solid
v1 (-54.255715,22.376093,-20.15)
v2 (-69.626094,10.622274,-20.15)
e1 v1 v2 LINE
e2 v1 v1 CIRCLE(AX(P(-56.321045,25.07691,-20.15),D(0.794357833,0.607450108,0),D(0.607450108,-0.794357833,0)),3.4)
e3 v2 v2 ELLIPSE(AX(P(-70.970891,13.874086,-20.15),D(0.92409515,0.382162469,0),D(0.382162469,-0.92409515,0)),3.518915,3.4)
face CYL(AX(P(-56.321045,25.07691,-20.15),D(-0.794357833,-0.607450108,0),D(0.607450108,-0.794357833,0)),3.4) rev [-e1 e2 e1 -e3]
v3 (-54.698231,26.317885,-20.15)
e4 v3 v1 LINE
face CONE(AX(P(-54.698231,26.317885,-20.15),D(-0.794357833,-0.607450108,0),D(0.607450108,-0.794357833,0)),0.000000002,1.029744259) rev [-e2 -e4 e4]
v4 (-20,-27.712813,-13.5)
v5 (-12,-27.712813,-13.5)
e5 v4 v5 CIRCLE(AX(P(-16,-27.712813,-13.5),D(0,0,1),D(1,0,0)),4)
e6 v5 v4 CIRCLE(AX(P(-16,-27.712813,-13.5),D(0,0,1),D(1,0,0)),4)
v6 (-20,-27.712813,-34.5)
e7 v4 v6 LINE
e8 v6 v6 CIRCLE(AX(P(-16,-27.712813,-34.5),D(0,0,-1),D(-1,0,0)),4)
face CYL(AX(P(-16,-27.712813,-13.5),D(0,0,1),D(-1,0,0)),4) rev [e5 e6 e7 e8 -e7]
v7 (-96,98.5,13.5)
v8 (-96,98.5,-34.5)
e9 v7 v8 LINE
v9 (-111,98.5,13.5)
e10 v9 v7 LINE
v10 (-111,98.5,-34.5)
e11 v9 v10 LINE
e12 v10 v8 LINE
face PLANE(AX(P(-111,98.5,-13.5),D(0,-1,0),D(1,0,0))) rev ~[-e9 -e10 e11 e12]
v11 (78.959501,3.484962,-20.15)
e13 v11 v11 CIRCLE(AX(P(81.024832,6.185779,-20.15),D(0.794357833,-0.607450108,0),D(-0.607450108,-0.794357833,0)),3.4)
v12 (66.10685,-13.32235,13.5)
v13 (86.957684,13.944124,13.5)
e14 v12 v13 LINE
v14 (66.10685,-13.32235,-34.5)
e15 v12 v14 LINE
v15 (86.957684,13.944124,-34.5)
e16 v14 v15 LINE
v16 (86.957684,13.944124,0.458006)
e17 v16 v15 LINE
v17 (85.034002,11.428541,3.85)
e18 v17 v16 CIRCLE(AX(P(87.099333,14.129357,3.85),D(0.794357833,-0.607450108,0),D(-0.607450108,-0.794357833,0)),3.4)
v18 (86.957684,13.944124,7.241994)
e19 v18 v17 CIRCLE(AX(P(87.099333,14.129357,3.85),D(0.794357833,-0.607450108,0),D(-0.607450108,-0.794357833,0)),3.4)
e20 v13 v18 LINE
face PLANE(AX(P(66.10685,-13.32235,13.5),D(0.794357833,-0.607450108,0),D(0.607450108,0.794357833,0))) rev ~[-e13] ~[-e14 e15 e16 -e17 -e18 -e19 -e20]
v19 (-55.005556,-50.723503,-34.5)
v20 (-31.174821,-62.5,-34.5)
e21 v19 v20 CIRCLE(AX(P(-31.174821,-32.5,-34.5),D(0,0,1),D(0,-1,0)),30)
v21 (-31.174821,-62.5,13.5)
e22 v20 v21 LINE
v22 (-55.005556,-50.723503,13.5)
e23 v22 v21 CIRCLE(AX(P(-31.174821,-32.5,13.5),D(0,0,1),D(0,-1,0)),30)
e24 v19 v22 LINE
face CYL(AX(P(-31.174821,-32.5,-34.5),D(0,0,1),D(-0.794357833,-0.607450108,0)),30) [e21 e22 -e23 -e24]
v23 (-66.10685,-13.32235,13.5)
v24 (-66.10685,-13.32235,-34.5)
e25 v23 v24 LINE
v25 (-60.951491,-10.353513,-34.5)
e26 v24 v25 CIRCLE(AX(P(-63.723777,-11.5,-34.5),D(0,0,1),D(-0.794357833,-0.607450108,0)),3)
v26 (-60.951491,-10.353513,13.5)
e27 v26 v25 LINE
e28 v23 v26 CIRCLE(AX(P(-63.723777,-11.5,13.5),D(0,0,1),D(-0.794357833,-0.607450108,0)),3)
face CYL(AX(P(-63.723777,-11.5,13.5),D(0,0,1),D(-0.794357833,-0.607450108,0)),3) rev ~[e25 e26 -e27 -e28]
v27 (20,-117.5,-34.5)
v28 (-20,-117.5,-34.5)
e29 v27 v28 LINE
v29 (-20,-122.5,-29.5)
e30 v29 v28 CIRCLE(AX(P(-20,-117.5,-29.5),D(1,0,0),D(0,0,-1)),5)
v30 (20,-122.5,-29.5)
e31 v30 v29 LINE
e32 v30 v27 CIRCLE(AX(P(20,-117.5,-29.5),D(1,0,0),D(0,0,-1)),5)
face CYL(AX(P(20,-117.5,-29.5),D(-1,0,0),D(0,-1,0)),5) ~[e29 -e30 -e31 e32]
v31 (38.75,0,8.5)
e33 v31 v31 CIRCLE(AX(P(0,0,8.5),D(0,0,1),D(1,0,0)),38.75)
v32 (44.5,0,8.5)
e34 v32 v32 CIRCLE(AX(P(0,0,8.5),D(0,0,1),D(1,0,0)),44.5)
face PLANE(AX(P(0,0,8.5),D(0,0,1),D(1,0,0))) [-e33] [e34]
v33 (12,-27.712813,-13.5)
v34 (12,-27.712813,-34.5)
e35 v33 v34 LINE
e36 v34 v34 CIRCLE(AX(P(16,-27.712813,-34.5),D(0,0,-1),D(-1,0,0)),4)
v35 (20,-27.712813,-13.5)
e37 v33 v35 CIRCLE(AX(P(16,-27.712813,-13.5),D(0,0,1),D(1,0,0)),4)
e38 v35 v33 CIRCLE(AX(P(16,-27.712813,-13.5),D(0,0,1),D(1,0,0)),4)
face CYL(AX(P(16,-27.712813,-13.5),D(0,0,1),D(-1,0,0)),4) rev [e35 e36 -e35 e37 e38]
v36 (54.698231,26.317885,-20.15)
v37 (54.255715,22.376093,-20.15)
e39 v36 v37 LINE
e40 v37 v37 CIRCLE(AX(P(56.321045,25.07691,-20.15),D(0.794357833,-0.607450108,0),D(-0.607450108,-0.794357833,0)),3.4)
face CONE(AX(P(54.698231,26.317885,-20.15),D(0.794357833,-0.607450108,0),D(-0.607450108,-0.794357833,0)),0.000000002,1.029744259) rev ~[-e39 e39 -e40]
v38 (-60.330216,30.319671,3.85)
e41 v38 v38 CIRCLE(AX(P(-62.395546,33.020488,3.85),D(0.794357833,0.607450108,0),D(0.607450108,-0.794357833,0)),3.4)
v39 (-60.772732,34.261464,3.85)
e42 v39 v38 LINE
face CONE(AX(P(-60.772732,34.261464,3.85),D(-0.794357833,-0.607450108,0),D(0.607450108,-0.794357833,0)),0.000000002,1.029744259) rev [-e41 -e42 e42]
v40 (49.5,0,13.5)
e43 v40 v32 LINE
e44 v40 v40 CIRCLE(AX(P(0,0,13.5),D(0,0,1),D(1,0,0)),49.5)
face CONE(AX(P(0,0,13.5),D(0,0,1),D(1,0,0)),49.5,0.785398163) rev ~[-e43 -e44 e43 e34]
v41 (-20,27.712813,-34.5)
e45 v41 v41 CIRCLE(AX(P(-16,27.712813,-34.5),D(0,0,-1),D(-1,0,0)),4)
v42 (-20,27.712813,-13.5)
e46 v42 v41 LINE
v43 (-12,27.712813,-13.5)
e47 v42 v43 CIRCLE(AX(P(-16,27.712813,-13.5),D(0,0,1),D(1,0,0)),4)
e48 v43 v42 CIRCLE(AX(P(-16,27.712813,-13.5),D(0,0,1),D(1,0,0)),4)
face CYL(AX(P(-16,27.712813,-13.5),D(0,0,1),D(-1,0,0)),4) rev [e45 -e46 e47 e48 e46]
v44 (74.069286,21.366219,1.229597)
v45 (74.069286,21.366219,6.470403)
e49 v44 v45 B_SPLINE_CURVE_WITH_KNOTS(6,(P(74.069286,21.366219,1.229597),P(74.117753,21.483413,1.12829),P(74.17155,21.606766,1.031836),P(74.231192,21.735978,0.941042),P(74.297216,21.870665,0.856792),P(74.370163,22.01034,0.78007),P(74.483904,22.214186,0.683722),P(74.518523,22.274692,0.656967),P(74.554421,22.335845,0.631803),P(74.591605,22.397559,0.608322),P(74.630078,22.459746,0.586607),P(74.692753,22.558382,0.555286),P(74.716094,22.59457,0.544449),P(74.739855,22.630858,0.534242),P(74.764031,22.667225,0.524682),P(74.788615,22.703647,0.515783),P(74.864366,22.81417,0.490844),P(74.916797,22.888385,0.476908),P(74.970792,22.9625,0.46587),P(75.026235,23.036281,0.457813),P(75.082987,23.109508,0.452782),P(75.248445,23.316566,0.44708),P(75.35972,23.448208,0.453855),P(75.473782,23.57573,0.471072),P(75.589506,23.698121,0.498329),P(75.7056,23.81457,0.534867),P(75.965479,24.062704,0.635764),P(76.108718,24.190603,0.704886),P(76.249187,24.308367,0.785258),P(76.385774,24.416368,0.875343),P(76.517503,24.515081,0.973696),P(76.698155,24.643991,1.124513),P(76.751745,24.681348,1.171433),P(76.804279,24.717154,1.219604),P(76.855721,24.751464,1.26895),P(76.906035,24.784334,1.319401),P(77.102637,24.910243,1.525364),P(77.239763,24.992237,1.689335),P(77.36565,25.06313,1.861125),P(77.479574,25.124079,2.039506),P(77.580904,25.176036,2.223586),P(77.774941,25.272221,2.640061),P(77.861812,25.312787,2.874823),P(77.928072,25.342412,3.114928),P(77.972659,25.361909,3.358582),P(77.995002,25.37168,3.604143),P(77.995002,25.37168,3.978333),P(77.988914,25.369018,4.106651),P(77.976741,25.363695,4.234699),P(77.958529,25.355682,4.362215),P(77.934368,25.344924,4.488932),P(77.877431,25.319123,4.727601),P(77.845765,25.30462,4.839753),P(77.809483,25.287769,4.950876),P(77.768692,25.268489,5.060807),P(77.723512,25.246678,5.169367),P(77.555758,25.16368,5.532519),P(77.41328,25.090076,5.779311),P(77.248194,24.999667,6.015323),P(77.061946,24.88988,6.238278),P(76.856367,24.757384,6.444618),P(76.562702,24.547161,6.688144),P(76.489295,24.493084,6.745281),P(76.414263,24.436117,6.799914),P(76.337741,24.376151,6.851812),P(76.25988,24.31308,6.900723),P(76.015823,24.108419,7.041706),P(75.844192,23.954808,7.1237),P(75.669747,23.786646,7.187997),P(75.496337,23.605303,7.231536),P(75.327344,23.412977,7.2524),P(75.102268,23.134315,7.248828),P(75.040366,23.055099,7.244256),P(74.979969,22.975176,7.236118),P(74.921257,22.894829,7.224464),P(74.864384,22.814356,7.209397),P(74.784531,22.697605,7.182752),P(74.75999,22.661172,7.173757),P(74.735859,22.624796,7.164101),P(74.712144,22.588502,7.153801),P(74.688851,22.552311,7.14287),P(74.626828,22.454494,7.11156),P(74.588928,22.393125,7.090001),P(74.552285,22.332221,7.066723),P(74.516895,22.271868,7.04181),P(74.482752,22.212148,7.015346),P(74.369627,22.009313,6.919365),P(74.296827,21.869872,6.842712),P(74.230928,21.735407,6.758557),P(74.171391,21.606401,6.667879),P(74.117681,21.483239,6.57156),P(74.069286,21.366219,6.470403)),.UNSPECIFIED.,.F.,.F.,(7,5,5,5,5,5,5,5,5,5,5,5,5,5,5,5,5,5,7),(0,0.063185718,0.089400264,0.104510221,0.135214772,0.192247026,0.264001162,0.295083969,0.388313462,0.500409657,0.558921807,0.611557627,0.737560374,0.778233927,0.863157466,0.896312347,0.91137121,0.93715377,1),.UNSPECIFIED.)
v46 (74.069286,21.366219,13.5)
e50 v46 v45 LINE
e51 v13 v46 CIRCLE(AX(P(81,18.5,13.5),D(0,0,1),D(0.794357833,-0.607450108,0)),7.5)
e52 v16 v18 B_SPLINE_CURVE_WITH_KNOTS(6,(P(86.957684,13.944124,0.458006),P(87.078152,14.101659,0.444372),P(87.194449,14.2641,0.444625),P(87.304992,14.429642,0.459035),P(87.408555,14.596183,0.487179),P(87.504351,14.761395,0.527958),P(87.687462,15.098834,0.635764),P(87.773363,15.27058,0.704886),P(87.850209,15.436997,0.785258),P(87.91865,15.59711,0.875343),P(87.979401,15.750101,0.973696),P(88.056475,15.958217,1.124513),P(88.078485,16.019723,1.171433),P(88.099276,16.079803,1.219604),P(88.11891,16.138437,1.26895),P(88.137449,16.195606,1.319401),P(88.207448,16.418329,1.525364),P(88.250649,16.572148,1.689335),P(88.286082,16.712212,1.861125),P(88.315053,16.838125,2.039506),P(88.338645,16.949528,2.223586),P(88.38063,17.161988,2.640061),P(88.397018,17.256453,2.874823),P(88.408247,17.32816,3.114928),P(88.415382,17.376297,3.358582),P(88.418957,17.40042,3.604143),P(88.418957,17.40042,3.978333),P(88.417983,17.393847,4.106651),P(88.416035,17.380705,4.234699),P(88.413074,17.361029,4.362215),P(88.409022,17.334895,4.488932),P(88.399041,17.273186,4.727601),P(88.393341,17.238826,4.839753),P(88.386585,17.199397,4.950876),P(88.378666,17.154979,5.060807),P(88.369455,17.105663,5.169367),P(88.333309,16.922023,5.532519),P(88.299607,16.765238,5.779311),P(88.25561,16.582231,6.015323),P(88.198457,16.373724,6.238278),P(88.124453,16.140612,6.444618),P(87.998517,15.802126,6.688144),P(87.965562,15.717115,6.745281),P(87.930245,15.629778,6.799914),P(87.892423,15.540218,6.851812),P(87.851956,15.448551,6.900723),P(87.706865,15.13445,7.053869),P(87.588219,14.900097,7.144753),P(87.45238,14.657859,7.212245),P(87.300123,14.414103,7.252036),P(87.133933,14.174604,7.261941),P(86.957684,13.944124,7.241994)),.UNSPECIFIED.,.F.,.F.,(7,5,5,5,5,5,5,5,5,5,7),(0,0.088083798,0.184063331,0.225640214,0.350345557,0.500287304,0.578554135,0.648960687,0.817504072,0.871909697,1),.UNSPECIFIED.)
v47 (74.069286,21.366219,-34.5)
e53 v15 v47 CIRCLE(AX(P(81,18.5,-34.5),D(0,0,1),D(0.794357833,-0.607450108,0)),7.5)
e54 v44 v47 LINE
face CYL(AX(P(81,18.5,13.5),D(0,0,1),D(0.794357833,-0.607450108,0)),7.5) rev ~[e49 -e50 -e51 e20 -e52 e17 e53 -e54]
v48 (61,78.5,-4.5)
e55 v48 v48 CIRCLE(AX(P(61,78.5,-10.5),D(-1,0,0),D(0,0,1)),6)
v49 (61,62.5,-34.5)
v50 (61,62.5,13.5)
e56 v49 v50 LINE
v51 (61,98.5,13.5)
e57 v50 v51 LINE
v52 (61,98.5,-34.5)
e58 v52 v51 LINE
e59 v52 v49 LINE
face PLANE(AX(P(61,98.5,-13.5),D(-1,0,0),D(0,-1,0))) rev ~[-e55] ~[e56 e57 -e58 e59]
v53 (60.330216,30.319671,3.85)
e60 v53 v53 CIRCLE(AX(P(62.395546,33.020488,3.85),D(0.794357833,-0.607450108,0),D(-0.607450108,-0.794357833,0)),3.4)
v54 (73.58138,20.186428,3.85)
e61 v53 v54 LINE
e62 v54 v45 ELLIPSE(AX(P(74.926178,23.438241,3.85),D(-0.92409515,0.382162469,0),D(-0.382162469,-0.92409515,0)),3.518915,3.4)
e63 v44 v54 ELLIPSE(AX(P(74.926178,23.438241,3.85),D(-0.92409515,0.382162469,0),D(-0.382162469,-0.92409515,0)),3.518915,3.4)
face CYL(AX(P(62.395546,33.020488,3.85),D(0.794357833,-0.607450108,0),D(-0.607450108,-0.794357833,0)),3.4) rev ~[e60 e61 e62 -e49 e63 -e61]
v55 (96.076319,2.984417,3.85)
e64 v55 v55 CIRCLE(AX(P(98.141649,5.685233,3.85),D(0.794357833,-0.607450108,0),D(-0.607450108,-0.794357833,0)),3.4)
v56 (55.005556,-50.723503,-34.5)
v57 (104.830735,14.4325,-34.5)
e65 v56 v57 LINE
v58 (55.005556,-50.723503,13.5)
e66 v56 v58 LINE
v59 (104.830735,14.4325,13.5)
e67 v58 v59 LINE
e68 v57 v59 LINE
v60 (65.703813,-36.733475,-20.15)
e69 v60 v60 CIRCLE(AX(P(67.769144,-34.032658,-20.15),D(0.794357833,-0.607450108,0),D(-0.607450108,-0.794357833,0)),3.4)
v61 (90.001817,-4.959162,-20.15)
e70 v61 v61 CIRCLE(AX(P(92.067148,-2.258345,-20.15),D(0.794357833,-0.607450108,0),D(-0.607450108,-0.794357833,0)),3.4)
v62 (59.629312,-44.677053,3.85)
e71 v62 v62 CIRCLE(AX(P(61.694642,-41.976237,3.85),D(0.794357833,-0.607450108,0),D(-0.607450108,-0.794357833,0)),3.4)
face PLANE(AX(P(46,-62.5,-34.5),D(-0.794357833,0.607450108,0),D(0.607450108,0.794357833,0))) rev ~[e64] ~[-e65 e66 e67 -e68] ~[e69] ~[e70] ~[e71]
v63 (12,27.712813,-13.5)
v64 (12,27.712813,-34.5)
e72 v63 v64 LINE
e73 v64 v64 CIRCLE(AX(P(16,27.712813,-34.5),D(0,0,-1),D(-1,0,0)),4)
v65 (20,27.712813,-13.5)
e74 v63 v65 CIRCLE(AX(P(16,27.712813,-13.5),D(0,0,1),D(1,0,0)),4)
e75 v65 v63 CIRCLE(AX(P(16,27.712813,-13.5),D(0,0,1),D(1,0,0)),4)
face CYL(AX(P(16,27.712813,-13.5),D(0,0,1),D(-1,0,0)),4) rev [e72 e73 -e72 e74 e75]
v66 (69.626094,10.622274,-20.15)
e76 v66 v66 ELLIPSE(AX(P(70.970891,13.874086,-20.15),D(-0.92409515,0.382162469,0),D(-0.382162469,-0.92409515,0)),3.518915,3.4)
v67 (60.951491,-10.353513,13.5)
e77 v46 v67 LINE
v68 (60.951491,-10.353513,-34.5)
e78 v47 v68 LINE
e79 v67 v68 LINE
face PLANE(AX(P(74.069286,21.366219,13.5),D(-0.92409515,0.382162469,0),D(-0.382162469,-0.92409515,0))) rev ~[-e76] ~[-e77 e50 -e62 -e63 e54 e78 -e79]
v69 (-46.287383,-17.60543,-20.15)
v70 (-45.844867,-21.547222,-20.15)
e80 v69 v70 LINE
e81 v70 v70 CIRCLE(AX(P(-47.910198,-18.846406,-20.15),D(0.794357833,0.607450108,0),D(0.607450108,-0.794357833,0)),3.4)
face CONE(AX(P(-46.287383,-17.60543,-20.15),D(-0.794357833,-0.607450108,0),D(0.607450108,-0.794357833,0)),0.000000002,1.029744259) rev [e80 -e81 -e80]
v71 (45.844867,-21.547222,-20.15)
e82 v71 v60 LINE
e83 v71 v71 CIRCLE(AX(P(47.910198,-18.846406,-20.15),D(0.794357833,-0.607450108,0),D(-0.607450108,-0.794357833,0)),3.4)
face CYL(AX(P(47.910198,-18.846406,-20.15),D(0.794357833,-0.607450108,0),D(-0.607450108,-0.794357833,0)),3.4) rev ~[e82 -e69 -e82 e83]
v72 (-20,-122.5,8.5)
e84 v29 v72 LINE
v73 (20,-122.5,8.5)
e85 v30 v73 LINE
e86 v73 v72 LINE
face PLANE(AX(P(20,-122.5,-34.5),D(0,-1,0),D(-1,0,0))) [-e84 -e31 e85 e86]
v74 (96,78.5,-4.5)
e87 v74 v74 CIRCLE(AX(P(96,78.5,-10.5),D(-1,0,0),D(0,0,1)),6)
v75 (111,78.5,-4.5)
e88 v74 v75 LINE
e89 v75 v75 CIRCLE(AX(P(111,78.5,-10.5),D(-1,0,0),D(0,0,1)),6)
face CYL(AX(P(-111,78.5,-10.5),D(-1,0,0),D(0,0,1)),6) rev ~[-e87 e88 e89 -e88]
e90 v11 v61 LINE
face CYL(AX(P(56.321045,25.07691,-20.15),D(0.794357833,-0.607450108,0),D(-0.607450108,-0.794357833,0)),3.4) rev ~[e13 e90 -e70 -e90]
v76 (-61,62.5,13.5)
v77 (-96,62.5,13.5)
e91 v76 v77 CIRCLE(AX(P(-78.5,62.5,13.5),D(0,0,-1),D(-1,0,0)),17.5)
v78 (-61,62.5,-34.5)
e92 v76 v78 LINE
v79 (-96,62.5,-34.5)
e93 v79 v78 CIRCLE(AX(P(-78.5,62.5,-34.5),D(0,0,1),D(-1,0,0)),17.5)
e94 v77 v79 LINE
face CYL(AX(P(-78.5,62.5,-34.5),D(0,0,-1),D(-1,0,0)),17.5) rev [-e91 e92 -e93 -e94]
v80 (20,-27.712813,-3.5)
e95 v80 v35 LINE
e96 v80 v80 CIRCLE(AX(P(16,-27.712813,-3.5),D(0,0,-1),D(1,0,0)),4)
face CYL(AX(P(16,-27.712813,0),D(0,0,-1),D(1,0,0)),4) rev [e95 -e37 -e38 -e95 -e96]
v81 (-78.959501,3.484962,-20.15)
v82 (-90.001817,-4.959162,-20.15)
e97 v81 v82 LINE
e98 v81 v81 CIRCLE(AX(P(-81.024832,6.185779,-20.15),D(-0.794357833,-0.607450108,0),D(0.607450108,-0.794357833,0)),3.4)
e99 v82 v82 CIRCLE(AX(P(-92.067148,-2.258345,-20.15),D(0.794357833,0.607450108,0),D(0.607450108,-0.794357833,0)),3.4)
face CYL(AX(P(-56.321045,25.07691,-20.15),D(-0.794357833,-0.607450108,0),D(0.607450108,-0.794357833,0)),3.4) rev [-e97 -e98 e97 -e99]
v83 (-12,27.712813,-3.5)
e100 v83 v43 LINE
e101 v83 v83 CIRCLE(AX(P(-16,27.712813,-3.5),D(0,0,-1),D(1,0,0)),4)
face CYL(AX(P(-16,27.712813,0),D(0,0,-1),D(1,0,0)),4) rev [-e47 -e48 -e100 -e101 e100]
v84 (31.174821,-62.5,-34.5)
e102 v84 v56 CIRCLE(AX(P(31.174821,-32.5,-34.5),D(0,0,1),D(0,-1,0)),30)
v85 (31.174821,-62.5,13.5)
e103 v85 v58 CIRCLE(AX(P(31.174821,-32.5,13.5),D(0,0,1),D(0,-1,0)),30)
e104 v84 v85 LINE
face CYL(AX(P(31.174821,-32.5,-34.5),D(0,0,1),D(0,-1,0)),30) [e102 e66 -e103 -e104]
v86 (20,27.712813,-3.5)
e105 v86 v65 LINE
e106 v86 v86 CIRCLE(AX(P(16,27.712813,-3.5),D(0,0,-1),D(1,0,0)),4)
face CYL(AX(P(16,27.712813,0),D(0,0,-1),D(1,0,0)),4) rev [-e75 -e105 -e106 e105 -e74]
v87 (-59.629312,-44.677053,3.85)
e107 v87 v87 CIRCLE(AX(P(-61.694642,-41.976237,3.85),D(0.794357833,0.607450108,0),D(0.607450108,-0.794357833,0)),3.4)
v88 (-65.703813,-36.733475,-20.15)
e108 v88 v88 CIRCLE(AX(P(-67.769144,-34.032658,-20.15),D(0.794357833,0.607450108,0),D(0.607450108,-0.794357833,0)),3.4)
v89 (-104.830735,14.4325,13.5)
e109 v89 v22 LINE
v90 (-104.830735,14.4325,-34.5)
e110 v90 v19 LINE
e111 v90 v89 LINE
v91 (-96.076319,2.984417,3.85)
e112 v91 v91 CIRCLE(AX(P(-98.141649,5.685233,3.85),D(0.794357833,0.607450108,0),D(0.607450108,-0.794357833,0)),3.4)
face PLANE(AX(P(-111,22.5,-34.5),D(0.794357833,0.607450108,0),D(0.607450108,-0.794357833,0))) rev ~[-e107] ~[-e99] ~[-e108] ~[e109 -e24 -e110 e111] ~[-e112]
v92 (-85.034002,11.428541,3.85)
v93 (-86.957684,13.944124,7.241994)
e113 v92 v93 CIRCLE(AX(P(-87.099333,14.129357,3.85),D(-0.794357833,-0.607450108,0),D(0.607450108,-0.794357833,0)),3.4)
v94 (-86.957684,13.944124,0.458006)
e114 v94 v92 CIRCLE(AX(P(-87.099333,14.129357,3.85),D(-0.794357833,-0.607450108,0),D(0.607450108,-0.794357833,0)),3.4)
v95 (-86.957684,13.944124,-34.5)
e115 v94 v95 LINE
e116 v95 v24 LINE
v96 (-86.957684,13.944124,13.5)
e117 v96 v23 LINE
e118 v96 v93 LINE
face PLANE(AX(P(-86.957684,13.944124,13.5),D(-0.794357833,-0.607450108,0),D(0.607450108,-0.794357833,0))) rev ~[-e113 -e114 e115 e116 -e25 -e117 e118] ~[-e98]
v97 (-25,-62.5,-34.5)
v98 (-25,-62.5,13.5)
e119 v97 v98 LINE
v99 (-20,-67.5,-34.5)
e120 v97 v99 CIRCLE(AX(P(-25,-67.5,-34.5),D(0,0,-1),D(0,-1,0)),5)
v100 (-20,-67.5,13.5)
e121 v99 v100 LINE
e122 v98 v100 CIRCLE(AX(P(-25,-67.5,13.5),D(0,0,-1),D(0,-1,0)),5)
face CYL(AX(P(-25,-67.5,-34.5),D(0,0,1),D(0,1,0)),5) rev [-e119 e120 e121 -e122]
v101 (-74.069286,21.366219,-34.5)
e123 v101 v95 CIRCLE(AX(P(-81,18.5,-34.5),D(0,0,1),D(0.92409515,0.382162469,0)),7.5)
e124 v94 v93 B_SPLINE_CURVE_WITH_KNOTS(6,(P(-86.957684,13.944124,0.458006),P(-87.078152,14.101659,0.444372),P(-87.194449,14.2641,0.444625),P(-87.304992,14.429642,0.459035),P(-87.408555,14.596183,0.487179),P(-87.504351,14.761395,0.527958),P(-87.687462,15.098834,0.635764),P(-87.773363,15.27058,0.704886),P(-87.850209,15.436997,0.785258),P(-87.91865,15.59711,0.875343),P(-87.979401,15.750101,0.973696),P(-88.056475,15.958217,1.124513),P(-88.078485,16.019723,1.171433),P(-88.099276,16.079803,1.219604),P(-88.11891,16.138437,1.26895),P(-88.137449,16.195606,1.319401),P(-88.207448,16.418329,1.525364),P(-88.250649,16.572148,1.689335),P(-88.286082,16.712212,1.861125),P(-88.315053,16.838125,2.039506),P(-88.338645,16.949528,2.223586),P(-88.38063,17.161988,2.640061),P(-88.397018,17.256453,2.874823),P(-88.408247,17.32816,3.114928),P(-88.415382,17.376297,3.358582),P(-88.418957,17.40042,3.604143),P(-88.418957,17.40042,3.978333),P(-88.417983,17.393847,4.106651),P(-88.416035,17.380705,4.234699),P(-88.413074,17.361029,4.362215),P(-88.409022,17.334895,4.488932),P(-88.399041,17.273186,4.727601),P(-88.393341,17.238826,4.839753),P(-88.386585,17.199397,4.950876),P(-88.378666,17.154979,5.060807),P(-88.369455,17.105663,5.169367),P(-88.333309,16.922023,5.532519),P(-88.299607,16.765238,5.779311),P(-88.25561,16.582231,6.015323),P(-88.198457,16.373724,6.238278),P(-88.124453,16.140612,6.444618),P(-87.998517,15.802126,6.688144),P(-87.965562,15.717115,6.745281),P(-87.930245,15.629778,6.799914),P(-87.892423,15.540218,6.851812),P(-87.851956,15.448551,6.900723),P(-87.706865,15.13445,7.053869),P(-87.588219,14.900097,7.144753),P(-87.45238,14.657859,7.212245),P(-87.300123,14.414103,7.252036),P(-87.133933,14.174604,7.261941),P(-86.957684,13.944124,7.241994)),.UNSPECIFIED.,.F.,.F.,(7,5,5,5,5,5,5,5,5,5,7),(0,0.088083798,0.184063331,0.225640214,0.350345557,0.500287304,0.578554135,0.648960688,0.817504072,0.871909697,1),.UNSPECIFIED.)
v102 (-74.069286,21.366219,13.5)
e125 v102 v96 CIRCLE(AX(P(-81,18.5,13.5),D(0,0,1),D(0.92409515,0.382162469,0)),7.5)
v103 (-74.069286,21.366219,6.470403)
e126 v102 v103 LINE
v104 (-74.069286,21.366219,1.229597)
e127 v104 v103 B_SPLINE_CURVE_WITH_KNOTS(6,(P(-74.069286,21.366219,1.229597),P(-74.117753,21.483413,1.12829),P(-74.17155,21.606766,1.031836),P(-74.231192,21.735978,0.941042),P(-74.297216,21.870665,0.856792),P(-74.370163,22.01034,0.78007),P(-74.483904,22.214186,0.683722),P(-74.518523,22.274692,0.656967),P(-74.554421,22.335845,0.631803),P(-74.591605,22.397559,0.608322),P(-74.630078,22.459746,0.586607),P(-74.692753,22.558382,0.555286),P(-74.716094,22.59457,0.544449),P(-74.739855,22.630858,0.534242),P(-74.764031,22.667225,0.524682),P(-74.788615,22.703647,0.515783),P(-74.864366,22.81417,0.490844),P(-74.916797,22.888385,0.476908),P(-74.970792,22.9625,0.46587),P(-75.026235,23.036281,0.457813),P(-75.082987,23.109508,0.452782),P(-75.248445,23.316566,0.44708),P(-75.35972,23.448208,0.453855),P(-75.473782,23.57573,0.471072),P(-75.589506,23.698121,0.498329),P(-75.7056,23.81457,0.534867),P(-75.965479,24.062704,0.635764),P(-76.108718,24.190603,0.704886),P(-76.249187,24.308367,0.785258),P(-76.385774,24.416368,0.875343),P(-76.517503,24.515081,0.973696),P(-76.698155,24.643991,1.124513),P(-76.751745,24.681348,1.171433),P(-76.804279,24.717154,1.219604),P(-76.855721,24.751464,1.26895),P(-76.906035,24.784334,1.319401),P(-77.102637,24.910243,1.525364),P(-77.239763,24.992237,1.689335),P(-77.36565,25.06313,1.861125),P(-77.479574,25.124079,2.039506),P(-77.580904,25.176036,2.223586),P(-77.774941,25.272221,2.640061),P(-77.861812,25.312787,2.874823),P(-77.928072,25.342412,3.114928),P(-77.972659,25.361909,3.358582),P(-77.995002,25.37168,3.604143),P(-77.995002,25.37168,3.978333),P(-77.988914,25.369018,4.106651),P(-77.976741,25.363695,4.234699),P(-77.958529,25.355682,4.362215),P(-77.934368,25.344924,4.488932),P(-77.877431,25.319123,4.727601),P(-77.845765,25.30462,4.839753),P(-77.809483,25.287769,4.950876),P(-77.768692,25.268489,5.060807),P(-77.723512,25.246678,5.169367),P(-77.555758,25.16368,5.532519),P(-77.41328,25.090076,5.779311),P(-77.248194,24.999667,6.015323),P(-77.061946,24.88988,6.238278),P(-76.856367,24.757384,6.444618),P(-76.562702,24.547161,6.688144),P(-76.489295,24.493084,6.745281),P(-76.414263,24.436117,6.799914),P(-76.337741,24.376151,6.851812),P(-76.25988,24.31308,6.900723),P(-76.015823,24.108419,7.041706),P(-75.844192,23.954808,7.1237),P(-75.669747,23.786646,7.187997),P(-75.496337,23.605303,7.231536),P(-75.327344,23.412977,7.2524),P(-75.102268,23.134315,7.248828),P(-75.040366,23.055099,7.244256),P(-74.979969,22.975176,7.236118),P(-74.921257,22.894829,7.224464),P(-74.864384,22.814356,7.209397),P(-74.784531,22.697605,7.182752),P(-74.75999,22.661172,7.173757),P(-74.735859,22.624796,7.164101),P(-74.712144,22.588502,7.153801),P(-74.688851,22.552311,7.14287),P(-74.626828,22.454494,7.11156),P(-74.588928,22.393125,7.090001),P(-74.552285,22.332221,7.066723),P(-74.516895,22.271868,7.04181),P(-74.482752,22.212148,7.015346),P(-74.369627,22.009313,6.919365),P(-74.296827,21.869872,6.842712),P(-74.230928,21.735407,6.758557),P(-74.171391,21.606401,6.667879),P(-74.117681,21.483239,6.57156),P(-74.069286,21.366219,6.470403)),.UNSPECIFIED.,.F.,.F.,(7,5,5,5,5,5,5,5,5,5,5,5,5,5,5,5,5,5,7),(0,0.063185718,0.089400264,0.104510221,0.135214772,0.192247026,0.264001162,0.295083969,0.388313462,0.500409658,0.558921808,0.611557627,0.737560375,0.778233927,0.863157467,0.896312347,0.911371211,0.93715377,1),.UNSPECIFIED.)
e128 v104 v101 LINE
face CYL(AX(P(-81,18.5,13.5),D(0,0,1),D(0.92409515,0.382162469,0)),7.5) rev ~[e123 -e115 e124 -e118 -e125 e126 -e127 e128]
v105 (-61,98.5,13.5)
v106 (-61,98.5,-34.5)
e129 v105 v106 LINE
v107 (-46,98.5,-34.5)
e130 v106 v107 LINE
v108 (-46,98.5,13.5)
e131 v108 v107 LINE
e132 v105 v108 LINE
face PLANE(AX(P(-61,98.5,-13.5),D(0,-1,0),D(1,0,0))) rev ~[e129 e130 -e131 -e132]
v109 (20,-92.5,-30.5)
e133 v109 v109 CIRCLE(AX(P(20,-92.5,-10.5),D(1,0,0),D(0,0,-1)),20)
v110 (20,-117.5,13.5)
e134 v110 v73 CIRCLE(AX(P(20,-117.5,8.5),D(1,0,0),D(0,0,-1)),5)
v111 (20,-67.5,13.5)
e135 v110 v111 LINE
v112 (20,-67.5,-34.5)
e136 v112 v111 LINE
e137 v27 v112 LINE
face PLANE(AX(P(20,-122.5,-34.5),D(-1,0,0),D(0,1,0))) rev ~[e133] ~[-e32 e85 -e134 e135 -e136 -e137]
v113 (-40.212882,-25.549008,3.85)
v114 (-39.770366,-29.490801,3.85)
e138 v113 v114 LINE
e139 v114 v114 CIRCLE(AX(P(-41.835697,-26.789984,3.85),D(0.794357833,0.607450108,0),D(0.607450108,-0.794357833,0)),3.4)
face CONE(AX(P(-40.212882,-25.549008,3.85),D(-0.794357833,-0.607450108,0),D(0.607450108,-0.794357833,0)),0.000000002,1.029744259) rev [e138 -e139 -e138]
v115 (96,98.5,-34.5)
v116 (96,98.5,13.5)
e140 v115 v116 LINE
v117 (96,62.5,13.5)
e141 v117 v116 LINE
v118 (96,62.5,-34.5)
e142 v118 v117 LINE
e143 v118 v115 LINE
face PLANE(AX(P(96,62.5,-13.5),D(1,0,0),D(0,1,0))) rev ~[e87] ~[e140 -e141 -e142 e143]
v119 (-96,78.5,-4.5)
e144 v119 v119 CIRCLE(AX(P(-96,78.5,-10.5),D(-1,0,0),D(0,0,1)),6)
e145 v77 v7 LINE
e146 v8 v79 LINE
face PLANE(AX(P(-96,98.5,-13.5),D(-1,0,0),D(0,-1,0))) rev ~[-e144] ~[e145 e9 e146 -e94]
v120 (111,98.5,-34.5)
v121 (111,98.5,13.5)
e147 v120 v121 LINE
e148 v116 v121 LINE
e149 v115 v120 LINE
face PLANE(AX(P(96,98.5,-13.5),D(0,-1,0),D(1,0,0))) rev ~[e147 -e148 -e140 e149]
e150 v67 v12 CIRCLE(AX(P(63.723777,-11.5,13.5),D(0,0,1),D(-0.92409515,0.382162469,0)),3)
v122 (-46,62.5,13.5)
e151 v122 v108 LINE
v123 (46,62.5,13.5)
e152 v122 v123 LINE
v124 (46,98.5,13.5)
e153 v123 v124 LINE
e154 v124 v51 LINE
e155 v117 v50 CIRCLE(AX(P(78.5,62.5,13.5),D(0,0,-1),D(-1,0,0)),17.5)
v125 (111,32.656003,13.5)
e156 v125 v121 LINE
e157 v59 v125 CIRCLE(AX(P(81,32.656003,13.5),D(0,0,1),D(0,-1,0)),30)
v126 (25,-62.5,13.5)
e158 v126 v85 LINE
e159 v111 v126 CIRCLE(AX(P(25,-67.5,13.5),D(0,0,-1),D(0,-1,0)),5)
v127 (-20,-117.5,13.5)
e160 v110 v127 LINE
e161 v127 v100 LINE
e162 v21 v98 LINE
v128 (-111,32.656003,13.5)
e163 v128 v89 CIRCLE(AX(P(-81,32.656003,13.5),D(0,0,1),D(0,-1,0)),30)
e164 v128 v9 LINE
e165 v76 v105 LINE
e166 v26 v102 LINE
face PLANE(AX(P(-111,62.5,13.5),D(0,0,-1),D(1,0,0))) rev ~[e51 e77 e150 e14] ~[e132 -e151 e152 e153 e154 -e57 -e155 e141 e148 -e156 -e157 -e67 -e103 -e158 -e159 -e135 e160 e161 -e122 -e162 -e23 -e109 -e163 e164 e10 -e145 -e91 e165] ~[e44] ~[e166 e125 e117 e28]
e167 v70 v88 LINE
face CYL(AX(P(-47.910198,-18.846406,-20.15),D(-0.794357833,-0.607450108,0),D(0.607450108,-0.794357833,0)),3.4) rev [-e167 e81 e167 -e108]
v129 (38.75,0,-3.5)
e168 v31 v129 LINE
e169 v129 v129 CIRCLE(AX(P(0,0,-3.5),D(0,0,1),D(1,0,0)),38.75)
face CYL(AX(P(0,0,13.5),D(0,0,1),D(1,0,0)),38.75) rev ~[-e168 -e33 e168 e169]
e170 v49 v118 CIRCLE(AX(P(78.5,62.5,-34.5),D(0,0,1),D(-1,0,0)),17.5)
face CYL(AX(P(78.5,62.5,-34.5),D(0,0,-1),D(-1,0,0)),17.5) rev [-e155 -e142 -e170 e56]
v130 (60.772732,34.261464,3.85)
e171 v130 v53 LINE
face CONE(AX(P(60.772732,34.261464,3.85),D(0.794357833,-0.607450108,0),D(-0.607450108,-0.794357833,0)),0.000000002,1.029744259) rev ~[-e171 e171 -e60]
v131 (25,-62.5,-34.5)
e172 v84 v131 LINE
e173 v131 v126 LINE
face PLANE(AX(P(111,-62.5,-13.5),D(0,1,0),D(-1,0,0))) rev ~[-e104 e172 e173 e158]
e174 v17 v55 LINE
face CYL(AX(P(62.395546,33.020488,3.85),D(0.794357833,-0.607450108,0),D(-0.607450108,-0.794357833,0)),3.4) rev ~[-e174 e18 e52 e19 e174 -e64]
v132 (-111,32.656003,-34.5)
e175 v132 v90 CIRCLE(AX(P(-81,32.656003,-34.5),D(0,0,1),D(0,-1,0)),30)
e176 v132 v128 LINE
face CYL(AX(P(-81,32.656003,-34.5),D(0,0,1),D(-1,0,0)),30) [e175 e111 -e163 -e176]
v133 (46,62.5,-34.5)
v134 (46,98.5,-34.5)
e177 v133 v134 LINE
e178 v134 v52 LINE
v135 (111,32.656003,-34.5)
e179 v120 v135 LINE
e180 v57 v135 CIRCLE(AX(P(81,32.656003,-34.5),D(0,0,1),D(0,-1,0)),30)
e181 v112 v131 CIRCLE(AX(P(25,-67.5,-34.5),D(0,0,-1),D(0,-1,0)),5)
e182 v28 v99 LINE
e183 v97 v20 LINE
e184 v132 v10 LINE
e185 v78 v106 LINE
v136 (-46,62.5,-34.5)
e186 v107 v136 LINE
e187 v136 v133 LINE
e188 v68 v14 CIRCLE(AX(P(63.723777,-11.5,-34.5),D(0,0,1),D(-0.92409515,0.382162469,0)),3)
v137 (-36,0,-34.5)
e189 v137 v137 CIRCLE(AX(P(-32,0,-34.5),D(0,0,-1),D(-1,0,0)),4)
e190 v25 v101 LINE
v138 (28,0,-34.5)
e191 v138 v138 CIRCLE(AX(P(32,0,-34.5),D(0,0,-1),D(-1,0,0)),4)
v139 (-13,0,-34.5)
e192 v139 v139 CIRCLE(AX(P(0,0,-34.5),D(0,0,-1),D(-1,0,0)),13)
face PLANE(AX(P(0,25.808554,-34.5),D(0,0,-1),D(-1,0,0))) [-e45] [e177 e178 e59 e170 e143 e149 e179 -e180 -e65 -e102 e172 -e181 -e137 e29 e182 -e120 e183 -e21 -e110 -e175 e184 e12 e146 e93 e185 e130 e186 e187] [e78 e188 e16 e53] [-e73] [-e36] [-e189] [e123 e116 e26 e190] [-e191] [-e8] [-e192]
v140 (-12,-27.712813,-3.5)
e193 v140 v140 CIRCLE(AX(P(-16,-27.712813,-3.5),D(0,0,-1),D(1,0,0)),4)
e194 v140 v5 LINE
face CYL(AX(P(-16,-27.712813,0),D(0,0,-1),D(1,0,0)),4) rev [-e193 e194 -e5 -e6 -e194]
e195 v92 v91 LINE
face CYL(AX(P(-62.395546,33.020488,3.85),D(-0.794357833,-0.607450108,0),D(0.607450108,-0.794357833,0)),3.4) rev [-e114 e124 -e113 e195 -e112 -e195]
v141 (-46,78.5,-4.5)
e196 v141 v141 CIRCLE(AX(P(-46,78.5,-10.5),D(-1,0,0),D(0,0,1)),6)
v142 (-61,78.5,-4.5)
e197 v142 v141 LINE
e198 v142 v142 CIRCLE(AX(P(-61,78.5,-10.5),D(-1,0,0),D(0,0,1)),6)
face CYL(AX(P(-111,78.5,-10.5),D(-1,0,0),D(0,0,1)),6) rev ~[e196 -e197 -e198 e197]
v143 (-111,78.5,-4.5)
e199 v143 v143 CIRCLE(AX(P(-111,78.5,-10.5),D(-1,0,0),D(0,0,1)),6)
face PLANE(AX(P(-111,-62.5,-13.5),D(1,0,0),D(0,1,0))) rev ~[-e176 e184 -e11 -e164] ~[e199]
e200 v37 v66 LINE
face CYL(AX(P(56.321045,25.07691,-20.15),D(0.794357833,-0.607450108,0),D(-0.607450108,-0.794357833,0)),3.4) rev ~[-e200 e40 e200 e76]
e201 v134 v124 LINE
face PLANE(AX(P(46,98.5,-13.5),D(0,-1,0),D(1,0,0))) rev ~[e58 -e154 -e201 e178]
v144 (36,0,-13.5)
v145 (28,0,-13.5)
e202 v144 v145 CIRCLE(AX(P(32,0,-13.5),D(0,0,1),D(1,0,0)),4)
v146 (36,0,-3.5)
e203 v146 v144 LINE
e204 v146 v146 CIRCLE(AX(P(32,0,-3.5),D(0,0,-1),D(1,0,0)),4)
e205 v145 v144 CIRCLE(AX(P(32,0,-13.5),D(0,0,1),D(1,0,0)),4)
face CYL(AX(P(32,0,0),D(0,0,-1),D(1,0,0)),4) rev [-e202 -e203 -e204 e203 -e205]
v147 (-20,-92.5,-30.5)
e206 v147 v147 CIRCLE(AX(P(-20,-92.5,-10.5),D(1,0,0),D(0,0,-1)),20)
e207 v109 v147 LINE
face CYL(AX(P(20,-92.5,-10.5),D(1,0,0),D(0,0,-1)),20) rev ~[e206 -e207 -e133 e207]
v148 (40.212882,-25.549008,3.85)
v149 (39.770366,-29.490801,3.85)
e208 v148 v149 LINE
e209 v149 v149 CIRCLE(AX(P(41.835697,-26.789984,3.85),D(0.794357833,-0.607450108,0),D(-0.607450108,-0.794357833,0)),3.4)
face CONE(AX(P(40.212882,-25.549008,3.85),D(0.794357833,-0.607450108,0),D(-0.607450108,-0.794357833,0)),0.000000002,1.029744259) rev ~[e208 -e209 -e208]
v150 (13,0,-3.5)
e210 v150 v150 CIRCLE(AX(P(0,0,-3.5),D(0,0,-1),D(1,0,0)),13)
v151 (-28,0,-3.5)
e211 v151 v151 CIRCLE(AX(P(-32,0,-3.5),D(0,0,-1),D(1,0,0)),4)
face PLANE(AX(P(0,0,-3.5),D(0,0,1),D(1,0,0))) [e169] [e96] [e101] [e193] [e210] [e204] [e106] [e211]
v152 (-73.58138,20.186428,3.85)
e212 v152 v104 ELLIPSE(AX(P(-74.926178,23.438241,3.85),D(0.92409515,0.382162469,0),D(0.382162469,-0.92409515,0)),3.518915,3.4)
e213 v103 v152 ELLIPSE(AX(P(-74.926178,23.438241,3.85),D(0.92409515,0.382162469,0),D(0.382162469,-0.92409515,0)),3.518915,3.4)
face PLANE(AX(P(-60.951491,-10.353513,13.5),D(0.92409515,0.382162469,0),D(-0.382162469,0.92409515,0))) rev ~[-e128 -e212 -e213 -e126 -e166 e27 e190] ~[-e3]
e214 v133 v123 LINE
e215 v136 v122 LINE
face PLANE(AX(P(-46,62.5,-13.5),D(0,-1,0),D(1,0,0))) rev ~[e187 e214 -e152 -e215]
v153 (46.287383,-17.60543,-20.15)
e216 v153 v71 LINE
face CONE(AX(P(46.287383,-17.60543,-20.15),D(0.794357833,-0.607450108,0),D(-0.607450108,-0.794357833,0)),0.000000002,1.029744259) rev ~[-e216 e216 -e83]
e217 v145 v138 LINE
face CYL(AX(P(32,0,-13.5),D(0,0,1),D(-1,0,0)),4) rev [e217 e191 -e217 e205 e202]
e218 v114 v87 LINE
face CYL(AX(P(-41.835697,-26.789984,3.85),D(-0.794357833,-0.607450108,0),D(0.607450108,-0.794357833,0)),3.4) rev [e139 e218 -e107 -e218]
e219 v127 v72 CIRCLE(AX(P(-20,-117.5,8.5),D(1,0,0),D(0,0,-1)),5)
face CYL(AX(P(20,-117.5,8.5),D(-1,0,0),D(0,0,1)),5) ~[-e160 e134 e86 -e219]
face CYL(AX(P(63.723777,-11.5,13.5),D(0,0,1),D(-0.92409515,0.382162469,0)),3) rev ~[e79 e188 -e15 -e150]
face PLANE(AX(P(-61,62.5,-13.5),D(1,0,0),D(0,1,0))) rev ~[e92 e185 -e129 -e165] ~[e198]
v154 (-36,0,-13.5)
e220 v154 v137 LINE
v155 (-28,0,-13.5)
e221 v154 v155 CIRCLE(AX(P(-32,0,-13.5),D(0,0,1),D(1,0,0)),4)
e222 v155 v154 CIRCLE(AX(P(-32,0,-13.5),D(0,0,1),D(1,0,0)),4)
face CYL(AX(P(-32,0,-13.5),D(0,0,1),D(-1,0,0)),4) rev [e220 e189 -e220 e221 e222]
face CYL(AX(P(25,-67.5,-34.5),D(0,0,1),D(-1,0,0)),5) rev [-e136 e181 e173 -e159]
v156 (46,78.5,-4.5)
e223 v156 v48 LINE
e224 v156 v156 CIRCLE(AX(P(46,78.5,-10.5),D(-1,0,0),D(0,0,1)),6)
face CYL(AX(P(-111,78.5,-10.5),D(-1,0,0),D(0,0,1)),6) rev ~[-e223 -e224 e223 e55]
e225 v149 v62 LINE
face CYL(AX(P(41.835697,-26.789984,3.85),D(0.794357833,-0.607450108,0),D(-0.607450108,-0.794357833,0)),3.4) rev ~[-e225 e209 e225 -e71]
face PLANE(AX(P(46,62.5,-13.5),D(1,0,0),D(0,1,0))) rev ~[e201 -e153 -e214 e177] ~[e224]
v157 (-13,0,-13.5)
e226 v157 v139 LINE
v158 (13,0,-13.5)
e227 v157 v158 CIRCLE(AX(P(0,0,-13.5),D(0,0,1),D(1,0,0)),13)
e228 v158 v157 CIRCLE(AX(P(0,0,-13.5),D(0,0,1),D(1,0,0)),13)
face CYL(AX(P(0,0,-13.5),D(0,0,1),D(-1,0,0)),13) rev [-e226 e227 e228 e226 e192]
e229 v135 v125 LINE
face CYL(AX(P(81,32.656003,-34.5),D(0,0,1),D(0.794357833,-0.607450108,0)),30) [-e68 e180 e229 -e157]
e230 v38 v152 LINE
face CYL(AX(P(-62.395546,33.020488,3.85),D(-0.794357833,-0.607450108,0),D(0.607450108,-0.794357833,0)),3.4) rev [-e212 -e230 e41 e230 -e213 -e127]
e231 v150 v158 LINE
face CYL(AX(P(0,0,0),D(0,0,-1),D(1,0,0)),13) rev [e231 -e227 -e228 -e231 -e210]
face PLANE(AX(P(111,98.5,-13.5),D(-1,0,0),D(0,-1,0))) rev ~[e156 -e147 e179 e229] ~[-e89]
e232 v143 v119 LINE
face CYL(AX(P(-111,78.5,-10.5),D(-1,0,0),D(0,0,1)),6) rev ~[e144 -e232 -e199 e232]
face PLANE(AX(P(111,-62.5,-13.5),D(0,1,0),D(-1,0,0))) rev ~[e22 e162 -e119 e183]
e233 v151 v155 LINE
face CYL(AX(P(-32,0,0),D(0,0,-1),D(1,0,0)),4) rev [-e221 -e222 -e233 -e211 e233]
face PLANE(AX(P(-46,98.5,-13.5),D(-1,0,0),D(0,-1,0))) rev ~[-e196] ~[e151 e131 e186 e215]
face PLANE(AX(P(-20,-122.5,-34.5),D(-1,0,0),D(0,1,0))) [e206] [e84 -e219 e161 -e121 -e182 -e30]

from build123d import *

# Parameters (mm, degrees)
SZKIC1_W                         = 222
SZKIC1_H                         = 125
SZKIC1_R                         = 13
SZKIC1_R_2                       = 4
DODANIE_WYCI_GNI_CIE1_DEPTH      = 13.5
DODANIE_WYCI_GNI_CIE1_DEPTH_BACK = 13.5
SZKIC4_W                         = 15
SZKIC4_H                         = 27
DODANIE_WYCI_GNI_CIE4_DEPTH      = 36
SZKIC13_R                        = 38.75
WYTNIJ_WYCI_GNI_CIE4_DEPTH       = 17
SZKIC15_R                        = 44.5
WYTNIJ_WYCI_GNI_CIE5_DEPTH       = 5
POCHYLENIE1_ANGLE                = 45
SZKIC16_R                        = 13
SZKIC16_R_2                      = 4
DODANIE_WYCI_GNI_CIE6_DEPTH      = 21
SZKIC5_R                         = 6
WYTNIJ_WYCI_GNI_CIE3_DEPTH       = 223
WYTNIJ_WYCI_GNI_CIE6_DEPTH       = 49
ZAOKR_GLENIE1_R                  = 30
ZAOKR_GLENIE2_R                  = 30
SZKIC19_W                        = 40
SZKIC19_H                        = 60
DODANIE_WYCI_GNI_CIE7_DEPTH      = 48
WYTNIJ_WYCI_GNI_CIE7_REACH       = 133
SZKIC23_R                        = 20
WYTNIJ_WYCI_GNI_CIE8_REACH       = 50
ZAOKR_GLENIE4_R                  = 5
ZAOKR_GLENIE5_R                  = 5
WYTNIJ_WYCI_GNI_CIE9_DEPTH       = 48
OTW_R_GWINTOWANY_M81_AT_2_COUNT  = 2
OTW_R_GWINTOWANY_M81_AT_2_PITCH  = 26
OTW_R_GWINTOWANY_M82_AT_2_COUNT  = 2
OTW_R_GWINTOWANY_M82_AT_2_PITCH  = 26


with BuildPart() as part:
    # Szkic1 → Dodanie-wyci_gni_cie1 (new body, two sides)
    with BuildSketch(Plane.XY) as dodanie_wyci_gni_cie1_sk:
        Rectangle(SZKIC1_W, SZKIC1_H)
        Circle(SZKIC1_R, mode=Mode.SUBTRACT)
        with Locations((-32, 0)):
            Circle(SZKIC1_R_2, mode=Mode.SUBTRACT)
        with Locations((-16, 27.712812921)):
            Circle(SZKIC1_R_2, mode=Mode.SUBTRACT)
        with Locations((16, 27.712812921)):
            Circle(SZKIC1_R_2, mode=Mode.SUBTRACT)
        with Locations((32, 0)):
            Circle(SZKIC1_R_2, mode=Mode.SUBTRACT)
        with Locations((16, -27.712812921)):
            Circle(SZKIC1_R_2, mode=Mode.SUBTRACT)
        with Locations((-16, -27.712812921)):
            Circle(SZKIC1_R_2, mode=Mode.SUBTRACT)
    extrude(amount=DODANIE_WYCI_GNI_CIE1_DEPTH)
    extrude(dodanie_wyci_gni_cie1_sk.sketch, amount=-DODANIE_WYCI_GNI_CIE1_DEPTH_BACK)

    # Szkic4 → Dodanie-wyci_gni_cie4 (add)
    with BuildSketch(Plane(origin=(0, 62.5, 0), x_dir=(1, 0, 0), z_dir=(0, 1, 0))):
        with Locations((-103.5, 0)):
            Rectangle(SZKIC4_W, SZKIC4_H)
        with Locations((-53.5, 0)):
            Rectangle(SZKIC4_W, SZKIC4_H)
        with Locations((53.5, 0)):
            Rectangle(SZKIC4_W, SZKIC4_H)
        with Locations((103.5, 0)):
            Rectangle(SZKIC4_W, SZKIC4_H)
    extrude(amount=DODANIE_WYCI_GNI_CIE4_DEPTH)

    # Szkic13 → Wytnij-wyci_gni_cie4 (cut)
    with BuildSketch(Plane.XY.offset(13.5)):
        Circle(SZKIC13_R)
    extrude(amount=-WYTNIJ_WYCI_GNI_CIE4_DEPTH, mode=Mode.SUBTRACT)

    # Szkic15 → Wytnij-wyci_gni_cie5 (cut)
    with BuildSketch(Plane.XY.offset(13.5)):
        Circle(SZKIC15_R)
    extrude(amount=-WYTNIJ_WYCI_GNI_CIE5_DEPTH, mode=Mode.SUBTRACT)

    # Pochylenie1
    pochylenie1_faces = [part.faces().sort_by_distance(p)[0] for p in [
        (-44.5, 0, 11),
    ]]
    draft(pochylenie1_faces, Plane.XY.offset(8.5), POCHYLENIE1_ANGLE)

    # Szkic16 → Dodanie-wyci_gni_cie6 (add)
    with BuildSketch(Plane(origin=(0, 0, -13.5), x_dir=(-1, 0, 0), z_dir=(0, 0, -1))):
        Polygon((-111, 98.5), (-111, -62.5), (111, -62.5), (111, 98.5), (96, 98.5), (96, 62.5), (61, 62.5), (61, 98.5), (46, 98.5), (46, 62.5), (-46, 62.5), (-46, 98.5), (-61, 98.5), (-61, 62.5), (-96, 62.5), (-96, 98.5), align=None)
        Circle(SZKIC16_R, mode=Mode.SUBTRACT)
        with Locations((32, 0)):
            Circle(SZKIC16_R_2, mode=Mode.SUBTRACT)
        with Locations((16, 27.712812921)):
            Circle(SZKIC16_R_2, mode=Mode.SUBTRACT)
        with Locations((-16, 27.712812921)):
            Circle(SZKIC16_R_2, mode=Mode.SUBTRACT)
        with Locations((-32, 0)):
            Circle(SZKIC16_R_2, mode=Mode.SUBTRACT)
        with Locations((-16, -27.712812921)):
            Circle(SZKIC16_R_2, mode=Mode.SUBTRACT)
        with Locations((16, -27.712812921)):
            Circle(SZKIC16_R_2, mode=Mode.SUBTRACT)
    extrude(amount=DODANIE_WYCI_GNI_CIE6_DEPTH)

    # Szkic5 → Wytnij-wyci_gni_cie3 (cut, through all)
    with BuildSketch(Plane.ZY.offset(111)):
        with Locations((-10.5, 78.5)):
            Circle(SZKIC5_R)
    extrude(amount=-WYTNIJ_WYCI_GNI_CIE3_DEPTH, mode=Mode.SUBTRACT)

    # Szkic18 → Wytnij-wyci_gni_cie6 (cut, through all)
    with BuildSketch(Plane(origin=(0, 0, -34.5), x_dir=(-1, 0, 0), z_dir=(0, 0, -1))):
        Polygon((111, 22.5), (46, -62.5), (111, -62.5), align=None)
        Polygon((-111, -62.5), (-46, -62.5), (-111, 22.5), align=None)
    extrude(amount=-WYTNIJ_WYCI_GNI_CIE6_DEPTH, mode=Mode.SUBTRACT)

    # Zaokr_glenie1
    zaokr_glenie1_edges = [part.edges().sort_by_distance(p)[0] for p in [
        (-111, 22.5, -10.5),
    ]]
    fillet(zaokr_glenie1_edges, radius=ZAOKR_GLENIE1_R)

    # Zaokr_glenie2
    zaokr_glenie2_edges = [part.edges().sort_by_distance(p)[0] for p in [
        (-46, -62.5, -10.5),
        (111, 22.5, -10.5),
        (46, -62.5, -10.5),
    ]]
    fillet(zaokr_glenie2_edges, radius=ZAOKR_GLENIE2_R)

    # Szkic19 → Dodanie-wyci_gni_cie7 (add)
    with BuildSketch(Plane(origin=(0, 0, -34.5), x_dir=(-1, 0, 0), z_dir=(0, 0, -1))):
        with Locations((0, -92.5)):
            Rectangle(SZKIC19_W, SZKIC19_H)
    extrude(amount=-DODANIE_WYCI_GNI_CIE7_DEPTH)

    # Szkic23 → Wytnij-wyci_gni_cie7 (cut, up to next)
    with BuildSketch(Plane(origin=(20, 0, 0), x_dir=(0, 0, -1), z_dir=(1, 0, 0)), mode=Mode.PRIVATE) as wytnij_wyci_gni_cie7_sk1:
        with Locations((10.5, -92.5)):
            Circle(SZKIC23_R)
    wytnij_wyci_gni_cie7_tool1 = extrude(wytnij_wyci_gni_cie7_sk1.sketch, amount=-WYTNIJ_WYCI_GNI_CIE7_REACH, mode=Mode.PRIVATE) & part.part
    add(wytnij_wyci_gni_cie7_tool1.solids().sort_by_distance((20, -92.5, -10.5))[0], mode=Mode.SUBTRACT)

    # Szkic24 → Wytnij-wyci_gni_cie8 (cut, up to next)
    with BuildSketch(Plane(origin=(0, 0, -34.5), x_dir=(-1, 0, 0), z_dir=(0, 0, -1)), mode=Mode.PRIVATE) as wytnij_wyci_gni_cie8_sk1:
        with BuildLine():
            Line((-96, 62.5), (-61, 62.5))
            ThreePointArc((-61, 62.5), (-78.5, 45), (-96, 62.5))
        make_face()
    wytnij_wyci_gni_cie8_tool1 = extrude(wytnij_wyci_gni_cie8_sk1.sketch, amount=-WYTNIJ_WYCI_GNI_CIE8_REACH, mode=Mode.PRIVATE) & part.part
    add(wytnij_wyci_gni_cie8_tool1.solids().sort_by_distance((78.5, 55.072769, -34.5))[0], mode=Mode.SUBTRACT)
    # Szkic24 → Wytnij-wyci_gni_cie8 (cut, up to next)
    with BuildSketch(Plane(origin=(0, 0, -34.5), x_dir=(-1, 0, 0), z_dir=(0, 0, -1)), mode=Mode.PRIVATE) as wytnij_wyci_gni_cie8_sk2:
        with BuildLine():
            Line((61, 62.5), (96, 62.5))
            ThreePointArc((96, 62.5), (78.5, 45), (61, 62.5))
        make_face()
    wytnij_wyci_gni_cie8_tool2 = extrude(wytnij_wyci_gni_cie8_sk2.sketch, amount=-WYTNIJ_WYCI_GNI_CIE8_REACH, mode=Mode.PRIVATE) & part.part
    add(wytnij_wyci_gni_cie8_tool2.solids().sort_by_distance((-78.5, 55.072769, -34.5))[0], mode=Mode.SUBTRACT)

    # Zaokr_glenie4
    zaokr_glenie4_edges = [part.edges().sort_by_distance(p)[0] for p in [
        (20, -62.5, -10.5),
        (-20, -62.5, -10.5),
    ]]
    fillet(zaokr_glenie4_edges, radius=ZAOKR_GLENIE4_R)

    # Zaokr_glenie5
    zaokr_glenie5_edges = [part.edges().sort_by_distance(p)[0] for p in [
        (0, -122.5, -34.5),
        (0, -122.5, 13.5),
    ]]
    fillet(zaokr_glenie5_edges, radius=ZAOKR_GLENIE5_R)

    # Szkic25 → Wytnij-wyci_gni_cie9 (cut)
    with BuildSketch(Plane.XY.offset(13.5)):
        with BuildLine():
            Line((-60.951491344, -10.353512592), (-74.069286372, 21.36621852))
            ThreePointArc((-74.069286372, 21.36621852), (-84.742802137, 24.999340902), (-86.957683747, 13.944124193))
            Line((-86.957683747, 13.944124193), (-66.106850294, -13.322350323))
            ThreePointArc((-66.106850294, -13.322350323), (-62.22665594, -14.099736361), (-60.951491344, -10.353512592))
        make_face()
        with BuildLine():
            Line((66.106850294, -13.322350323), (86.957683747, 13.944124193))
            ThreePointArc((86.957683747, 13.944124193), (84.742802137, 24.999340902), (74.069286372, 21.36621852))
            Line((74.069286372, 21.36621852), (60.951491344, -10.353512592))
            ThreePointArc((60.951491344, -10.353512592), (62.22665594, -14.099736361), (66.106850294, -13.322350323))
        make_face()
    extrude(amount=-WYTNIJ_WYCI_GNI_CIE9_DEPTH, mode=Mode.SUBTRACT)

    # Szkic28 → Otw_r gwintowany M81 (revolve, cut)
    with BuildSketch(Plane(origin=(-92.067147824, -2.258345153, -20.15), x_dir=(0.607450108, -0.794357833, 0), z_dir=(0, 0, 1))):
        Polygon((0, 0), (0, 47.042926105), (3.4, 45), (3.4, 0), align=None)
    otw_r_gwintowany_m81 = revolve(axis=Axis((-97.111320063, -6.115653336, -20.15), (0.794357833, 0.607450108, 0)), mode=Mode.SUBTRACT)

    # Otw_r gwintowany M81 at 2: Otw_r gwintowany M81 ×2
    with Locations(*[Vector(-0.233634657, 0.305522243, 0.923076923) * (i * OTW_R_GWINTOWANY_M81_AT_2_PITCH) for i in range(1, OTW_R_GWINTOWANY_M81_AT_2_COUNT)]):
        add(otw_r_gwintowany_m81, mode=Mode.SUBTRACT)

    # Szkic30 → Otw_r gwintowany M82 (revolve, cut)
    with BuildSketch(Plane(origin=(-61.694642445, -41.976236802, 3.85), x_dir=(0.607450108, -0.794357833, 0), z_dir=(0, 0, 1))):
        Polygon((0, 0), (0, 27.042926105), (3.4, 25), (3.4, 0), align=None)
    otw_r_gwintowany_m82 = revolve(axis=Axis((-66.738814685, -45.833544985, 3.85), (0.794357833, 0.607450108, 0)), mode=Mode.SUBTRACT)

    # Otw_r gwintowany M82 at 2: Otw_r gwintowany M82 ×2
    with Locations(*[Vector(-0.233634657, 0.305522243, -0.923076923) * (i * OTW_R_GWINTOWANY_M82_AT_2_PITCH) for i in range(1, OTW_R_GWINTOWANY_M82_AT_2_COUNT)]):
        add(otw_r_gwintowany_m82, mode=Mode.SUBTRACT)

    # Lustro1: Otw_r gwintowany M82, Otw_r gwintowany M81 across plane
    add(otw_r_gwintowany_m82.mirror(Plane(origin=(0, 0, 0), x_dir=(0, 0, 1), z_dir=(1, 0, 0))), mode=Mode.SUBTRACT)
    add(otw_r_gwintowany_m81.mirror(Plane(origin=(0, 0, 0), x_dir=(0, 0, 1), z_dir=(1, 0, 0))), mode=Mode.SUBTRACT)

    # Lustro1 copy 1 sketch → Lustro1 copy 1 (revolve, cut)
    with BuildSketch(Plane(origin=(67.769143521, -34.032658472, -20.15), x_dir=(-0.607450108, -0.794357833, 0), z_dir=(0, 0, 1))):
        Polygon((0, 0), (0, -27.042926105), (3.4, -25), (3.4, 0), align=None)
    revolve(axis=Axis((72.813315761, -37.889966655, -20.15), (0.794357833, -0.607450108, 0)), mode=Mode.SUBTRACT)

    # Lustro1 copy 2 sketch → Lustro1 copy 2 (revolve, cut)
    with BuildSketch(Plane(origin=(98.1416489, 5.685233176, 3.85), x_dir=(-0.607450108, -0.794357833, 0), z_dir=(0, 0, 1))):
        Polygon((0, 0), (0, -47.042926105), (3.4, -45), (3.4, 0), align=None)
    revolve(axis=Axis((103.185821139, 1.827924993, 3.85), (0.794357833, -0.607450108, 0)), mode=Mode.SUBTRACT)


solid = part.part
